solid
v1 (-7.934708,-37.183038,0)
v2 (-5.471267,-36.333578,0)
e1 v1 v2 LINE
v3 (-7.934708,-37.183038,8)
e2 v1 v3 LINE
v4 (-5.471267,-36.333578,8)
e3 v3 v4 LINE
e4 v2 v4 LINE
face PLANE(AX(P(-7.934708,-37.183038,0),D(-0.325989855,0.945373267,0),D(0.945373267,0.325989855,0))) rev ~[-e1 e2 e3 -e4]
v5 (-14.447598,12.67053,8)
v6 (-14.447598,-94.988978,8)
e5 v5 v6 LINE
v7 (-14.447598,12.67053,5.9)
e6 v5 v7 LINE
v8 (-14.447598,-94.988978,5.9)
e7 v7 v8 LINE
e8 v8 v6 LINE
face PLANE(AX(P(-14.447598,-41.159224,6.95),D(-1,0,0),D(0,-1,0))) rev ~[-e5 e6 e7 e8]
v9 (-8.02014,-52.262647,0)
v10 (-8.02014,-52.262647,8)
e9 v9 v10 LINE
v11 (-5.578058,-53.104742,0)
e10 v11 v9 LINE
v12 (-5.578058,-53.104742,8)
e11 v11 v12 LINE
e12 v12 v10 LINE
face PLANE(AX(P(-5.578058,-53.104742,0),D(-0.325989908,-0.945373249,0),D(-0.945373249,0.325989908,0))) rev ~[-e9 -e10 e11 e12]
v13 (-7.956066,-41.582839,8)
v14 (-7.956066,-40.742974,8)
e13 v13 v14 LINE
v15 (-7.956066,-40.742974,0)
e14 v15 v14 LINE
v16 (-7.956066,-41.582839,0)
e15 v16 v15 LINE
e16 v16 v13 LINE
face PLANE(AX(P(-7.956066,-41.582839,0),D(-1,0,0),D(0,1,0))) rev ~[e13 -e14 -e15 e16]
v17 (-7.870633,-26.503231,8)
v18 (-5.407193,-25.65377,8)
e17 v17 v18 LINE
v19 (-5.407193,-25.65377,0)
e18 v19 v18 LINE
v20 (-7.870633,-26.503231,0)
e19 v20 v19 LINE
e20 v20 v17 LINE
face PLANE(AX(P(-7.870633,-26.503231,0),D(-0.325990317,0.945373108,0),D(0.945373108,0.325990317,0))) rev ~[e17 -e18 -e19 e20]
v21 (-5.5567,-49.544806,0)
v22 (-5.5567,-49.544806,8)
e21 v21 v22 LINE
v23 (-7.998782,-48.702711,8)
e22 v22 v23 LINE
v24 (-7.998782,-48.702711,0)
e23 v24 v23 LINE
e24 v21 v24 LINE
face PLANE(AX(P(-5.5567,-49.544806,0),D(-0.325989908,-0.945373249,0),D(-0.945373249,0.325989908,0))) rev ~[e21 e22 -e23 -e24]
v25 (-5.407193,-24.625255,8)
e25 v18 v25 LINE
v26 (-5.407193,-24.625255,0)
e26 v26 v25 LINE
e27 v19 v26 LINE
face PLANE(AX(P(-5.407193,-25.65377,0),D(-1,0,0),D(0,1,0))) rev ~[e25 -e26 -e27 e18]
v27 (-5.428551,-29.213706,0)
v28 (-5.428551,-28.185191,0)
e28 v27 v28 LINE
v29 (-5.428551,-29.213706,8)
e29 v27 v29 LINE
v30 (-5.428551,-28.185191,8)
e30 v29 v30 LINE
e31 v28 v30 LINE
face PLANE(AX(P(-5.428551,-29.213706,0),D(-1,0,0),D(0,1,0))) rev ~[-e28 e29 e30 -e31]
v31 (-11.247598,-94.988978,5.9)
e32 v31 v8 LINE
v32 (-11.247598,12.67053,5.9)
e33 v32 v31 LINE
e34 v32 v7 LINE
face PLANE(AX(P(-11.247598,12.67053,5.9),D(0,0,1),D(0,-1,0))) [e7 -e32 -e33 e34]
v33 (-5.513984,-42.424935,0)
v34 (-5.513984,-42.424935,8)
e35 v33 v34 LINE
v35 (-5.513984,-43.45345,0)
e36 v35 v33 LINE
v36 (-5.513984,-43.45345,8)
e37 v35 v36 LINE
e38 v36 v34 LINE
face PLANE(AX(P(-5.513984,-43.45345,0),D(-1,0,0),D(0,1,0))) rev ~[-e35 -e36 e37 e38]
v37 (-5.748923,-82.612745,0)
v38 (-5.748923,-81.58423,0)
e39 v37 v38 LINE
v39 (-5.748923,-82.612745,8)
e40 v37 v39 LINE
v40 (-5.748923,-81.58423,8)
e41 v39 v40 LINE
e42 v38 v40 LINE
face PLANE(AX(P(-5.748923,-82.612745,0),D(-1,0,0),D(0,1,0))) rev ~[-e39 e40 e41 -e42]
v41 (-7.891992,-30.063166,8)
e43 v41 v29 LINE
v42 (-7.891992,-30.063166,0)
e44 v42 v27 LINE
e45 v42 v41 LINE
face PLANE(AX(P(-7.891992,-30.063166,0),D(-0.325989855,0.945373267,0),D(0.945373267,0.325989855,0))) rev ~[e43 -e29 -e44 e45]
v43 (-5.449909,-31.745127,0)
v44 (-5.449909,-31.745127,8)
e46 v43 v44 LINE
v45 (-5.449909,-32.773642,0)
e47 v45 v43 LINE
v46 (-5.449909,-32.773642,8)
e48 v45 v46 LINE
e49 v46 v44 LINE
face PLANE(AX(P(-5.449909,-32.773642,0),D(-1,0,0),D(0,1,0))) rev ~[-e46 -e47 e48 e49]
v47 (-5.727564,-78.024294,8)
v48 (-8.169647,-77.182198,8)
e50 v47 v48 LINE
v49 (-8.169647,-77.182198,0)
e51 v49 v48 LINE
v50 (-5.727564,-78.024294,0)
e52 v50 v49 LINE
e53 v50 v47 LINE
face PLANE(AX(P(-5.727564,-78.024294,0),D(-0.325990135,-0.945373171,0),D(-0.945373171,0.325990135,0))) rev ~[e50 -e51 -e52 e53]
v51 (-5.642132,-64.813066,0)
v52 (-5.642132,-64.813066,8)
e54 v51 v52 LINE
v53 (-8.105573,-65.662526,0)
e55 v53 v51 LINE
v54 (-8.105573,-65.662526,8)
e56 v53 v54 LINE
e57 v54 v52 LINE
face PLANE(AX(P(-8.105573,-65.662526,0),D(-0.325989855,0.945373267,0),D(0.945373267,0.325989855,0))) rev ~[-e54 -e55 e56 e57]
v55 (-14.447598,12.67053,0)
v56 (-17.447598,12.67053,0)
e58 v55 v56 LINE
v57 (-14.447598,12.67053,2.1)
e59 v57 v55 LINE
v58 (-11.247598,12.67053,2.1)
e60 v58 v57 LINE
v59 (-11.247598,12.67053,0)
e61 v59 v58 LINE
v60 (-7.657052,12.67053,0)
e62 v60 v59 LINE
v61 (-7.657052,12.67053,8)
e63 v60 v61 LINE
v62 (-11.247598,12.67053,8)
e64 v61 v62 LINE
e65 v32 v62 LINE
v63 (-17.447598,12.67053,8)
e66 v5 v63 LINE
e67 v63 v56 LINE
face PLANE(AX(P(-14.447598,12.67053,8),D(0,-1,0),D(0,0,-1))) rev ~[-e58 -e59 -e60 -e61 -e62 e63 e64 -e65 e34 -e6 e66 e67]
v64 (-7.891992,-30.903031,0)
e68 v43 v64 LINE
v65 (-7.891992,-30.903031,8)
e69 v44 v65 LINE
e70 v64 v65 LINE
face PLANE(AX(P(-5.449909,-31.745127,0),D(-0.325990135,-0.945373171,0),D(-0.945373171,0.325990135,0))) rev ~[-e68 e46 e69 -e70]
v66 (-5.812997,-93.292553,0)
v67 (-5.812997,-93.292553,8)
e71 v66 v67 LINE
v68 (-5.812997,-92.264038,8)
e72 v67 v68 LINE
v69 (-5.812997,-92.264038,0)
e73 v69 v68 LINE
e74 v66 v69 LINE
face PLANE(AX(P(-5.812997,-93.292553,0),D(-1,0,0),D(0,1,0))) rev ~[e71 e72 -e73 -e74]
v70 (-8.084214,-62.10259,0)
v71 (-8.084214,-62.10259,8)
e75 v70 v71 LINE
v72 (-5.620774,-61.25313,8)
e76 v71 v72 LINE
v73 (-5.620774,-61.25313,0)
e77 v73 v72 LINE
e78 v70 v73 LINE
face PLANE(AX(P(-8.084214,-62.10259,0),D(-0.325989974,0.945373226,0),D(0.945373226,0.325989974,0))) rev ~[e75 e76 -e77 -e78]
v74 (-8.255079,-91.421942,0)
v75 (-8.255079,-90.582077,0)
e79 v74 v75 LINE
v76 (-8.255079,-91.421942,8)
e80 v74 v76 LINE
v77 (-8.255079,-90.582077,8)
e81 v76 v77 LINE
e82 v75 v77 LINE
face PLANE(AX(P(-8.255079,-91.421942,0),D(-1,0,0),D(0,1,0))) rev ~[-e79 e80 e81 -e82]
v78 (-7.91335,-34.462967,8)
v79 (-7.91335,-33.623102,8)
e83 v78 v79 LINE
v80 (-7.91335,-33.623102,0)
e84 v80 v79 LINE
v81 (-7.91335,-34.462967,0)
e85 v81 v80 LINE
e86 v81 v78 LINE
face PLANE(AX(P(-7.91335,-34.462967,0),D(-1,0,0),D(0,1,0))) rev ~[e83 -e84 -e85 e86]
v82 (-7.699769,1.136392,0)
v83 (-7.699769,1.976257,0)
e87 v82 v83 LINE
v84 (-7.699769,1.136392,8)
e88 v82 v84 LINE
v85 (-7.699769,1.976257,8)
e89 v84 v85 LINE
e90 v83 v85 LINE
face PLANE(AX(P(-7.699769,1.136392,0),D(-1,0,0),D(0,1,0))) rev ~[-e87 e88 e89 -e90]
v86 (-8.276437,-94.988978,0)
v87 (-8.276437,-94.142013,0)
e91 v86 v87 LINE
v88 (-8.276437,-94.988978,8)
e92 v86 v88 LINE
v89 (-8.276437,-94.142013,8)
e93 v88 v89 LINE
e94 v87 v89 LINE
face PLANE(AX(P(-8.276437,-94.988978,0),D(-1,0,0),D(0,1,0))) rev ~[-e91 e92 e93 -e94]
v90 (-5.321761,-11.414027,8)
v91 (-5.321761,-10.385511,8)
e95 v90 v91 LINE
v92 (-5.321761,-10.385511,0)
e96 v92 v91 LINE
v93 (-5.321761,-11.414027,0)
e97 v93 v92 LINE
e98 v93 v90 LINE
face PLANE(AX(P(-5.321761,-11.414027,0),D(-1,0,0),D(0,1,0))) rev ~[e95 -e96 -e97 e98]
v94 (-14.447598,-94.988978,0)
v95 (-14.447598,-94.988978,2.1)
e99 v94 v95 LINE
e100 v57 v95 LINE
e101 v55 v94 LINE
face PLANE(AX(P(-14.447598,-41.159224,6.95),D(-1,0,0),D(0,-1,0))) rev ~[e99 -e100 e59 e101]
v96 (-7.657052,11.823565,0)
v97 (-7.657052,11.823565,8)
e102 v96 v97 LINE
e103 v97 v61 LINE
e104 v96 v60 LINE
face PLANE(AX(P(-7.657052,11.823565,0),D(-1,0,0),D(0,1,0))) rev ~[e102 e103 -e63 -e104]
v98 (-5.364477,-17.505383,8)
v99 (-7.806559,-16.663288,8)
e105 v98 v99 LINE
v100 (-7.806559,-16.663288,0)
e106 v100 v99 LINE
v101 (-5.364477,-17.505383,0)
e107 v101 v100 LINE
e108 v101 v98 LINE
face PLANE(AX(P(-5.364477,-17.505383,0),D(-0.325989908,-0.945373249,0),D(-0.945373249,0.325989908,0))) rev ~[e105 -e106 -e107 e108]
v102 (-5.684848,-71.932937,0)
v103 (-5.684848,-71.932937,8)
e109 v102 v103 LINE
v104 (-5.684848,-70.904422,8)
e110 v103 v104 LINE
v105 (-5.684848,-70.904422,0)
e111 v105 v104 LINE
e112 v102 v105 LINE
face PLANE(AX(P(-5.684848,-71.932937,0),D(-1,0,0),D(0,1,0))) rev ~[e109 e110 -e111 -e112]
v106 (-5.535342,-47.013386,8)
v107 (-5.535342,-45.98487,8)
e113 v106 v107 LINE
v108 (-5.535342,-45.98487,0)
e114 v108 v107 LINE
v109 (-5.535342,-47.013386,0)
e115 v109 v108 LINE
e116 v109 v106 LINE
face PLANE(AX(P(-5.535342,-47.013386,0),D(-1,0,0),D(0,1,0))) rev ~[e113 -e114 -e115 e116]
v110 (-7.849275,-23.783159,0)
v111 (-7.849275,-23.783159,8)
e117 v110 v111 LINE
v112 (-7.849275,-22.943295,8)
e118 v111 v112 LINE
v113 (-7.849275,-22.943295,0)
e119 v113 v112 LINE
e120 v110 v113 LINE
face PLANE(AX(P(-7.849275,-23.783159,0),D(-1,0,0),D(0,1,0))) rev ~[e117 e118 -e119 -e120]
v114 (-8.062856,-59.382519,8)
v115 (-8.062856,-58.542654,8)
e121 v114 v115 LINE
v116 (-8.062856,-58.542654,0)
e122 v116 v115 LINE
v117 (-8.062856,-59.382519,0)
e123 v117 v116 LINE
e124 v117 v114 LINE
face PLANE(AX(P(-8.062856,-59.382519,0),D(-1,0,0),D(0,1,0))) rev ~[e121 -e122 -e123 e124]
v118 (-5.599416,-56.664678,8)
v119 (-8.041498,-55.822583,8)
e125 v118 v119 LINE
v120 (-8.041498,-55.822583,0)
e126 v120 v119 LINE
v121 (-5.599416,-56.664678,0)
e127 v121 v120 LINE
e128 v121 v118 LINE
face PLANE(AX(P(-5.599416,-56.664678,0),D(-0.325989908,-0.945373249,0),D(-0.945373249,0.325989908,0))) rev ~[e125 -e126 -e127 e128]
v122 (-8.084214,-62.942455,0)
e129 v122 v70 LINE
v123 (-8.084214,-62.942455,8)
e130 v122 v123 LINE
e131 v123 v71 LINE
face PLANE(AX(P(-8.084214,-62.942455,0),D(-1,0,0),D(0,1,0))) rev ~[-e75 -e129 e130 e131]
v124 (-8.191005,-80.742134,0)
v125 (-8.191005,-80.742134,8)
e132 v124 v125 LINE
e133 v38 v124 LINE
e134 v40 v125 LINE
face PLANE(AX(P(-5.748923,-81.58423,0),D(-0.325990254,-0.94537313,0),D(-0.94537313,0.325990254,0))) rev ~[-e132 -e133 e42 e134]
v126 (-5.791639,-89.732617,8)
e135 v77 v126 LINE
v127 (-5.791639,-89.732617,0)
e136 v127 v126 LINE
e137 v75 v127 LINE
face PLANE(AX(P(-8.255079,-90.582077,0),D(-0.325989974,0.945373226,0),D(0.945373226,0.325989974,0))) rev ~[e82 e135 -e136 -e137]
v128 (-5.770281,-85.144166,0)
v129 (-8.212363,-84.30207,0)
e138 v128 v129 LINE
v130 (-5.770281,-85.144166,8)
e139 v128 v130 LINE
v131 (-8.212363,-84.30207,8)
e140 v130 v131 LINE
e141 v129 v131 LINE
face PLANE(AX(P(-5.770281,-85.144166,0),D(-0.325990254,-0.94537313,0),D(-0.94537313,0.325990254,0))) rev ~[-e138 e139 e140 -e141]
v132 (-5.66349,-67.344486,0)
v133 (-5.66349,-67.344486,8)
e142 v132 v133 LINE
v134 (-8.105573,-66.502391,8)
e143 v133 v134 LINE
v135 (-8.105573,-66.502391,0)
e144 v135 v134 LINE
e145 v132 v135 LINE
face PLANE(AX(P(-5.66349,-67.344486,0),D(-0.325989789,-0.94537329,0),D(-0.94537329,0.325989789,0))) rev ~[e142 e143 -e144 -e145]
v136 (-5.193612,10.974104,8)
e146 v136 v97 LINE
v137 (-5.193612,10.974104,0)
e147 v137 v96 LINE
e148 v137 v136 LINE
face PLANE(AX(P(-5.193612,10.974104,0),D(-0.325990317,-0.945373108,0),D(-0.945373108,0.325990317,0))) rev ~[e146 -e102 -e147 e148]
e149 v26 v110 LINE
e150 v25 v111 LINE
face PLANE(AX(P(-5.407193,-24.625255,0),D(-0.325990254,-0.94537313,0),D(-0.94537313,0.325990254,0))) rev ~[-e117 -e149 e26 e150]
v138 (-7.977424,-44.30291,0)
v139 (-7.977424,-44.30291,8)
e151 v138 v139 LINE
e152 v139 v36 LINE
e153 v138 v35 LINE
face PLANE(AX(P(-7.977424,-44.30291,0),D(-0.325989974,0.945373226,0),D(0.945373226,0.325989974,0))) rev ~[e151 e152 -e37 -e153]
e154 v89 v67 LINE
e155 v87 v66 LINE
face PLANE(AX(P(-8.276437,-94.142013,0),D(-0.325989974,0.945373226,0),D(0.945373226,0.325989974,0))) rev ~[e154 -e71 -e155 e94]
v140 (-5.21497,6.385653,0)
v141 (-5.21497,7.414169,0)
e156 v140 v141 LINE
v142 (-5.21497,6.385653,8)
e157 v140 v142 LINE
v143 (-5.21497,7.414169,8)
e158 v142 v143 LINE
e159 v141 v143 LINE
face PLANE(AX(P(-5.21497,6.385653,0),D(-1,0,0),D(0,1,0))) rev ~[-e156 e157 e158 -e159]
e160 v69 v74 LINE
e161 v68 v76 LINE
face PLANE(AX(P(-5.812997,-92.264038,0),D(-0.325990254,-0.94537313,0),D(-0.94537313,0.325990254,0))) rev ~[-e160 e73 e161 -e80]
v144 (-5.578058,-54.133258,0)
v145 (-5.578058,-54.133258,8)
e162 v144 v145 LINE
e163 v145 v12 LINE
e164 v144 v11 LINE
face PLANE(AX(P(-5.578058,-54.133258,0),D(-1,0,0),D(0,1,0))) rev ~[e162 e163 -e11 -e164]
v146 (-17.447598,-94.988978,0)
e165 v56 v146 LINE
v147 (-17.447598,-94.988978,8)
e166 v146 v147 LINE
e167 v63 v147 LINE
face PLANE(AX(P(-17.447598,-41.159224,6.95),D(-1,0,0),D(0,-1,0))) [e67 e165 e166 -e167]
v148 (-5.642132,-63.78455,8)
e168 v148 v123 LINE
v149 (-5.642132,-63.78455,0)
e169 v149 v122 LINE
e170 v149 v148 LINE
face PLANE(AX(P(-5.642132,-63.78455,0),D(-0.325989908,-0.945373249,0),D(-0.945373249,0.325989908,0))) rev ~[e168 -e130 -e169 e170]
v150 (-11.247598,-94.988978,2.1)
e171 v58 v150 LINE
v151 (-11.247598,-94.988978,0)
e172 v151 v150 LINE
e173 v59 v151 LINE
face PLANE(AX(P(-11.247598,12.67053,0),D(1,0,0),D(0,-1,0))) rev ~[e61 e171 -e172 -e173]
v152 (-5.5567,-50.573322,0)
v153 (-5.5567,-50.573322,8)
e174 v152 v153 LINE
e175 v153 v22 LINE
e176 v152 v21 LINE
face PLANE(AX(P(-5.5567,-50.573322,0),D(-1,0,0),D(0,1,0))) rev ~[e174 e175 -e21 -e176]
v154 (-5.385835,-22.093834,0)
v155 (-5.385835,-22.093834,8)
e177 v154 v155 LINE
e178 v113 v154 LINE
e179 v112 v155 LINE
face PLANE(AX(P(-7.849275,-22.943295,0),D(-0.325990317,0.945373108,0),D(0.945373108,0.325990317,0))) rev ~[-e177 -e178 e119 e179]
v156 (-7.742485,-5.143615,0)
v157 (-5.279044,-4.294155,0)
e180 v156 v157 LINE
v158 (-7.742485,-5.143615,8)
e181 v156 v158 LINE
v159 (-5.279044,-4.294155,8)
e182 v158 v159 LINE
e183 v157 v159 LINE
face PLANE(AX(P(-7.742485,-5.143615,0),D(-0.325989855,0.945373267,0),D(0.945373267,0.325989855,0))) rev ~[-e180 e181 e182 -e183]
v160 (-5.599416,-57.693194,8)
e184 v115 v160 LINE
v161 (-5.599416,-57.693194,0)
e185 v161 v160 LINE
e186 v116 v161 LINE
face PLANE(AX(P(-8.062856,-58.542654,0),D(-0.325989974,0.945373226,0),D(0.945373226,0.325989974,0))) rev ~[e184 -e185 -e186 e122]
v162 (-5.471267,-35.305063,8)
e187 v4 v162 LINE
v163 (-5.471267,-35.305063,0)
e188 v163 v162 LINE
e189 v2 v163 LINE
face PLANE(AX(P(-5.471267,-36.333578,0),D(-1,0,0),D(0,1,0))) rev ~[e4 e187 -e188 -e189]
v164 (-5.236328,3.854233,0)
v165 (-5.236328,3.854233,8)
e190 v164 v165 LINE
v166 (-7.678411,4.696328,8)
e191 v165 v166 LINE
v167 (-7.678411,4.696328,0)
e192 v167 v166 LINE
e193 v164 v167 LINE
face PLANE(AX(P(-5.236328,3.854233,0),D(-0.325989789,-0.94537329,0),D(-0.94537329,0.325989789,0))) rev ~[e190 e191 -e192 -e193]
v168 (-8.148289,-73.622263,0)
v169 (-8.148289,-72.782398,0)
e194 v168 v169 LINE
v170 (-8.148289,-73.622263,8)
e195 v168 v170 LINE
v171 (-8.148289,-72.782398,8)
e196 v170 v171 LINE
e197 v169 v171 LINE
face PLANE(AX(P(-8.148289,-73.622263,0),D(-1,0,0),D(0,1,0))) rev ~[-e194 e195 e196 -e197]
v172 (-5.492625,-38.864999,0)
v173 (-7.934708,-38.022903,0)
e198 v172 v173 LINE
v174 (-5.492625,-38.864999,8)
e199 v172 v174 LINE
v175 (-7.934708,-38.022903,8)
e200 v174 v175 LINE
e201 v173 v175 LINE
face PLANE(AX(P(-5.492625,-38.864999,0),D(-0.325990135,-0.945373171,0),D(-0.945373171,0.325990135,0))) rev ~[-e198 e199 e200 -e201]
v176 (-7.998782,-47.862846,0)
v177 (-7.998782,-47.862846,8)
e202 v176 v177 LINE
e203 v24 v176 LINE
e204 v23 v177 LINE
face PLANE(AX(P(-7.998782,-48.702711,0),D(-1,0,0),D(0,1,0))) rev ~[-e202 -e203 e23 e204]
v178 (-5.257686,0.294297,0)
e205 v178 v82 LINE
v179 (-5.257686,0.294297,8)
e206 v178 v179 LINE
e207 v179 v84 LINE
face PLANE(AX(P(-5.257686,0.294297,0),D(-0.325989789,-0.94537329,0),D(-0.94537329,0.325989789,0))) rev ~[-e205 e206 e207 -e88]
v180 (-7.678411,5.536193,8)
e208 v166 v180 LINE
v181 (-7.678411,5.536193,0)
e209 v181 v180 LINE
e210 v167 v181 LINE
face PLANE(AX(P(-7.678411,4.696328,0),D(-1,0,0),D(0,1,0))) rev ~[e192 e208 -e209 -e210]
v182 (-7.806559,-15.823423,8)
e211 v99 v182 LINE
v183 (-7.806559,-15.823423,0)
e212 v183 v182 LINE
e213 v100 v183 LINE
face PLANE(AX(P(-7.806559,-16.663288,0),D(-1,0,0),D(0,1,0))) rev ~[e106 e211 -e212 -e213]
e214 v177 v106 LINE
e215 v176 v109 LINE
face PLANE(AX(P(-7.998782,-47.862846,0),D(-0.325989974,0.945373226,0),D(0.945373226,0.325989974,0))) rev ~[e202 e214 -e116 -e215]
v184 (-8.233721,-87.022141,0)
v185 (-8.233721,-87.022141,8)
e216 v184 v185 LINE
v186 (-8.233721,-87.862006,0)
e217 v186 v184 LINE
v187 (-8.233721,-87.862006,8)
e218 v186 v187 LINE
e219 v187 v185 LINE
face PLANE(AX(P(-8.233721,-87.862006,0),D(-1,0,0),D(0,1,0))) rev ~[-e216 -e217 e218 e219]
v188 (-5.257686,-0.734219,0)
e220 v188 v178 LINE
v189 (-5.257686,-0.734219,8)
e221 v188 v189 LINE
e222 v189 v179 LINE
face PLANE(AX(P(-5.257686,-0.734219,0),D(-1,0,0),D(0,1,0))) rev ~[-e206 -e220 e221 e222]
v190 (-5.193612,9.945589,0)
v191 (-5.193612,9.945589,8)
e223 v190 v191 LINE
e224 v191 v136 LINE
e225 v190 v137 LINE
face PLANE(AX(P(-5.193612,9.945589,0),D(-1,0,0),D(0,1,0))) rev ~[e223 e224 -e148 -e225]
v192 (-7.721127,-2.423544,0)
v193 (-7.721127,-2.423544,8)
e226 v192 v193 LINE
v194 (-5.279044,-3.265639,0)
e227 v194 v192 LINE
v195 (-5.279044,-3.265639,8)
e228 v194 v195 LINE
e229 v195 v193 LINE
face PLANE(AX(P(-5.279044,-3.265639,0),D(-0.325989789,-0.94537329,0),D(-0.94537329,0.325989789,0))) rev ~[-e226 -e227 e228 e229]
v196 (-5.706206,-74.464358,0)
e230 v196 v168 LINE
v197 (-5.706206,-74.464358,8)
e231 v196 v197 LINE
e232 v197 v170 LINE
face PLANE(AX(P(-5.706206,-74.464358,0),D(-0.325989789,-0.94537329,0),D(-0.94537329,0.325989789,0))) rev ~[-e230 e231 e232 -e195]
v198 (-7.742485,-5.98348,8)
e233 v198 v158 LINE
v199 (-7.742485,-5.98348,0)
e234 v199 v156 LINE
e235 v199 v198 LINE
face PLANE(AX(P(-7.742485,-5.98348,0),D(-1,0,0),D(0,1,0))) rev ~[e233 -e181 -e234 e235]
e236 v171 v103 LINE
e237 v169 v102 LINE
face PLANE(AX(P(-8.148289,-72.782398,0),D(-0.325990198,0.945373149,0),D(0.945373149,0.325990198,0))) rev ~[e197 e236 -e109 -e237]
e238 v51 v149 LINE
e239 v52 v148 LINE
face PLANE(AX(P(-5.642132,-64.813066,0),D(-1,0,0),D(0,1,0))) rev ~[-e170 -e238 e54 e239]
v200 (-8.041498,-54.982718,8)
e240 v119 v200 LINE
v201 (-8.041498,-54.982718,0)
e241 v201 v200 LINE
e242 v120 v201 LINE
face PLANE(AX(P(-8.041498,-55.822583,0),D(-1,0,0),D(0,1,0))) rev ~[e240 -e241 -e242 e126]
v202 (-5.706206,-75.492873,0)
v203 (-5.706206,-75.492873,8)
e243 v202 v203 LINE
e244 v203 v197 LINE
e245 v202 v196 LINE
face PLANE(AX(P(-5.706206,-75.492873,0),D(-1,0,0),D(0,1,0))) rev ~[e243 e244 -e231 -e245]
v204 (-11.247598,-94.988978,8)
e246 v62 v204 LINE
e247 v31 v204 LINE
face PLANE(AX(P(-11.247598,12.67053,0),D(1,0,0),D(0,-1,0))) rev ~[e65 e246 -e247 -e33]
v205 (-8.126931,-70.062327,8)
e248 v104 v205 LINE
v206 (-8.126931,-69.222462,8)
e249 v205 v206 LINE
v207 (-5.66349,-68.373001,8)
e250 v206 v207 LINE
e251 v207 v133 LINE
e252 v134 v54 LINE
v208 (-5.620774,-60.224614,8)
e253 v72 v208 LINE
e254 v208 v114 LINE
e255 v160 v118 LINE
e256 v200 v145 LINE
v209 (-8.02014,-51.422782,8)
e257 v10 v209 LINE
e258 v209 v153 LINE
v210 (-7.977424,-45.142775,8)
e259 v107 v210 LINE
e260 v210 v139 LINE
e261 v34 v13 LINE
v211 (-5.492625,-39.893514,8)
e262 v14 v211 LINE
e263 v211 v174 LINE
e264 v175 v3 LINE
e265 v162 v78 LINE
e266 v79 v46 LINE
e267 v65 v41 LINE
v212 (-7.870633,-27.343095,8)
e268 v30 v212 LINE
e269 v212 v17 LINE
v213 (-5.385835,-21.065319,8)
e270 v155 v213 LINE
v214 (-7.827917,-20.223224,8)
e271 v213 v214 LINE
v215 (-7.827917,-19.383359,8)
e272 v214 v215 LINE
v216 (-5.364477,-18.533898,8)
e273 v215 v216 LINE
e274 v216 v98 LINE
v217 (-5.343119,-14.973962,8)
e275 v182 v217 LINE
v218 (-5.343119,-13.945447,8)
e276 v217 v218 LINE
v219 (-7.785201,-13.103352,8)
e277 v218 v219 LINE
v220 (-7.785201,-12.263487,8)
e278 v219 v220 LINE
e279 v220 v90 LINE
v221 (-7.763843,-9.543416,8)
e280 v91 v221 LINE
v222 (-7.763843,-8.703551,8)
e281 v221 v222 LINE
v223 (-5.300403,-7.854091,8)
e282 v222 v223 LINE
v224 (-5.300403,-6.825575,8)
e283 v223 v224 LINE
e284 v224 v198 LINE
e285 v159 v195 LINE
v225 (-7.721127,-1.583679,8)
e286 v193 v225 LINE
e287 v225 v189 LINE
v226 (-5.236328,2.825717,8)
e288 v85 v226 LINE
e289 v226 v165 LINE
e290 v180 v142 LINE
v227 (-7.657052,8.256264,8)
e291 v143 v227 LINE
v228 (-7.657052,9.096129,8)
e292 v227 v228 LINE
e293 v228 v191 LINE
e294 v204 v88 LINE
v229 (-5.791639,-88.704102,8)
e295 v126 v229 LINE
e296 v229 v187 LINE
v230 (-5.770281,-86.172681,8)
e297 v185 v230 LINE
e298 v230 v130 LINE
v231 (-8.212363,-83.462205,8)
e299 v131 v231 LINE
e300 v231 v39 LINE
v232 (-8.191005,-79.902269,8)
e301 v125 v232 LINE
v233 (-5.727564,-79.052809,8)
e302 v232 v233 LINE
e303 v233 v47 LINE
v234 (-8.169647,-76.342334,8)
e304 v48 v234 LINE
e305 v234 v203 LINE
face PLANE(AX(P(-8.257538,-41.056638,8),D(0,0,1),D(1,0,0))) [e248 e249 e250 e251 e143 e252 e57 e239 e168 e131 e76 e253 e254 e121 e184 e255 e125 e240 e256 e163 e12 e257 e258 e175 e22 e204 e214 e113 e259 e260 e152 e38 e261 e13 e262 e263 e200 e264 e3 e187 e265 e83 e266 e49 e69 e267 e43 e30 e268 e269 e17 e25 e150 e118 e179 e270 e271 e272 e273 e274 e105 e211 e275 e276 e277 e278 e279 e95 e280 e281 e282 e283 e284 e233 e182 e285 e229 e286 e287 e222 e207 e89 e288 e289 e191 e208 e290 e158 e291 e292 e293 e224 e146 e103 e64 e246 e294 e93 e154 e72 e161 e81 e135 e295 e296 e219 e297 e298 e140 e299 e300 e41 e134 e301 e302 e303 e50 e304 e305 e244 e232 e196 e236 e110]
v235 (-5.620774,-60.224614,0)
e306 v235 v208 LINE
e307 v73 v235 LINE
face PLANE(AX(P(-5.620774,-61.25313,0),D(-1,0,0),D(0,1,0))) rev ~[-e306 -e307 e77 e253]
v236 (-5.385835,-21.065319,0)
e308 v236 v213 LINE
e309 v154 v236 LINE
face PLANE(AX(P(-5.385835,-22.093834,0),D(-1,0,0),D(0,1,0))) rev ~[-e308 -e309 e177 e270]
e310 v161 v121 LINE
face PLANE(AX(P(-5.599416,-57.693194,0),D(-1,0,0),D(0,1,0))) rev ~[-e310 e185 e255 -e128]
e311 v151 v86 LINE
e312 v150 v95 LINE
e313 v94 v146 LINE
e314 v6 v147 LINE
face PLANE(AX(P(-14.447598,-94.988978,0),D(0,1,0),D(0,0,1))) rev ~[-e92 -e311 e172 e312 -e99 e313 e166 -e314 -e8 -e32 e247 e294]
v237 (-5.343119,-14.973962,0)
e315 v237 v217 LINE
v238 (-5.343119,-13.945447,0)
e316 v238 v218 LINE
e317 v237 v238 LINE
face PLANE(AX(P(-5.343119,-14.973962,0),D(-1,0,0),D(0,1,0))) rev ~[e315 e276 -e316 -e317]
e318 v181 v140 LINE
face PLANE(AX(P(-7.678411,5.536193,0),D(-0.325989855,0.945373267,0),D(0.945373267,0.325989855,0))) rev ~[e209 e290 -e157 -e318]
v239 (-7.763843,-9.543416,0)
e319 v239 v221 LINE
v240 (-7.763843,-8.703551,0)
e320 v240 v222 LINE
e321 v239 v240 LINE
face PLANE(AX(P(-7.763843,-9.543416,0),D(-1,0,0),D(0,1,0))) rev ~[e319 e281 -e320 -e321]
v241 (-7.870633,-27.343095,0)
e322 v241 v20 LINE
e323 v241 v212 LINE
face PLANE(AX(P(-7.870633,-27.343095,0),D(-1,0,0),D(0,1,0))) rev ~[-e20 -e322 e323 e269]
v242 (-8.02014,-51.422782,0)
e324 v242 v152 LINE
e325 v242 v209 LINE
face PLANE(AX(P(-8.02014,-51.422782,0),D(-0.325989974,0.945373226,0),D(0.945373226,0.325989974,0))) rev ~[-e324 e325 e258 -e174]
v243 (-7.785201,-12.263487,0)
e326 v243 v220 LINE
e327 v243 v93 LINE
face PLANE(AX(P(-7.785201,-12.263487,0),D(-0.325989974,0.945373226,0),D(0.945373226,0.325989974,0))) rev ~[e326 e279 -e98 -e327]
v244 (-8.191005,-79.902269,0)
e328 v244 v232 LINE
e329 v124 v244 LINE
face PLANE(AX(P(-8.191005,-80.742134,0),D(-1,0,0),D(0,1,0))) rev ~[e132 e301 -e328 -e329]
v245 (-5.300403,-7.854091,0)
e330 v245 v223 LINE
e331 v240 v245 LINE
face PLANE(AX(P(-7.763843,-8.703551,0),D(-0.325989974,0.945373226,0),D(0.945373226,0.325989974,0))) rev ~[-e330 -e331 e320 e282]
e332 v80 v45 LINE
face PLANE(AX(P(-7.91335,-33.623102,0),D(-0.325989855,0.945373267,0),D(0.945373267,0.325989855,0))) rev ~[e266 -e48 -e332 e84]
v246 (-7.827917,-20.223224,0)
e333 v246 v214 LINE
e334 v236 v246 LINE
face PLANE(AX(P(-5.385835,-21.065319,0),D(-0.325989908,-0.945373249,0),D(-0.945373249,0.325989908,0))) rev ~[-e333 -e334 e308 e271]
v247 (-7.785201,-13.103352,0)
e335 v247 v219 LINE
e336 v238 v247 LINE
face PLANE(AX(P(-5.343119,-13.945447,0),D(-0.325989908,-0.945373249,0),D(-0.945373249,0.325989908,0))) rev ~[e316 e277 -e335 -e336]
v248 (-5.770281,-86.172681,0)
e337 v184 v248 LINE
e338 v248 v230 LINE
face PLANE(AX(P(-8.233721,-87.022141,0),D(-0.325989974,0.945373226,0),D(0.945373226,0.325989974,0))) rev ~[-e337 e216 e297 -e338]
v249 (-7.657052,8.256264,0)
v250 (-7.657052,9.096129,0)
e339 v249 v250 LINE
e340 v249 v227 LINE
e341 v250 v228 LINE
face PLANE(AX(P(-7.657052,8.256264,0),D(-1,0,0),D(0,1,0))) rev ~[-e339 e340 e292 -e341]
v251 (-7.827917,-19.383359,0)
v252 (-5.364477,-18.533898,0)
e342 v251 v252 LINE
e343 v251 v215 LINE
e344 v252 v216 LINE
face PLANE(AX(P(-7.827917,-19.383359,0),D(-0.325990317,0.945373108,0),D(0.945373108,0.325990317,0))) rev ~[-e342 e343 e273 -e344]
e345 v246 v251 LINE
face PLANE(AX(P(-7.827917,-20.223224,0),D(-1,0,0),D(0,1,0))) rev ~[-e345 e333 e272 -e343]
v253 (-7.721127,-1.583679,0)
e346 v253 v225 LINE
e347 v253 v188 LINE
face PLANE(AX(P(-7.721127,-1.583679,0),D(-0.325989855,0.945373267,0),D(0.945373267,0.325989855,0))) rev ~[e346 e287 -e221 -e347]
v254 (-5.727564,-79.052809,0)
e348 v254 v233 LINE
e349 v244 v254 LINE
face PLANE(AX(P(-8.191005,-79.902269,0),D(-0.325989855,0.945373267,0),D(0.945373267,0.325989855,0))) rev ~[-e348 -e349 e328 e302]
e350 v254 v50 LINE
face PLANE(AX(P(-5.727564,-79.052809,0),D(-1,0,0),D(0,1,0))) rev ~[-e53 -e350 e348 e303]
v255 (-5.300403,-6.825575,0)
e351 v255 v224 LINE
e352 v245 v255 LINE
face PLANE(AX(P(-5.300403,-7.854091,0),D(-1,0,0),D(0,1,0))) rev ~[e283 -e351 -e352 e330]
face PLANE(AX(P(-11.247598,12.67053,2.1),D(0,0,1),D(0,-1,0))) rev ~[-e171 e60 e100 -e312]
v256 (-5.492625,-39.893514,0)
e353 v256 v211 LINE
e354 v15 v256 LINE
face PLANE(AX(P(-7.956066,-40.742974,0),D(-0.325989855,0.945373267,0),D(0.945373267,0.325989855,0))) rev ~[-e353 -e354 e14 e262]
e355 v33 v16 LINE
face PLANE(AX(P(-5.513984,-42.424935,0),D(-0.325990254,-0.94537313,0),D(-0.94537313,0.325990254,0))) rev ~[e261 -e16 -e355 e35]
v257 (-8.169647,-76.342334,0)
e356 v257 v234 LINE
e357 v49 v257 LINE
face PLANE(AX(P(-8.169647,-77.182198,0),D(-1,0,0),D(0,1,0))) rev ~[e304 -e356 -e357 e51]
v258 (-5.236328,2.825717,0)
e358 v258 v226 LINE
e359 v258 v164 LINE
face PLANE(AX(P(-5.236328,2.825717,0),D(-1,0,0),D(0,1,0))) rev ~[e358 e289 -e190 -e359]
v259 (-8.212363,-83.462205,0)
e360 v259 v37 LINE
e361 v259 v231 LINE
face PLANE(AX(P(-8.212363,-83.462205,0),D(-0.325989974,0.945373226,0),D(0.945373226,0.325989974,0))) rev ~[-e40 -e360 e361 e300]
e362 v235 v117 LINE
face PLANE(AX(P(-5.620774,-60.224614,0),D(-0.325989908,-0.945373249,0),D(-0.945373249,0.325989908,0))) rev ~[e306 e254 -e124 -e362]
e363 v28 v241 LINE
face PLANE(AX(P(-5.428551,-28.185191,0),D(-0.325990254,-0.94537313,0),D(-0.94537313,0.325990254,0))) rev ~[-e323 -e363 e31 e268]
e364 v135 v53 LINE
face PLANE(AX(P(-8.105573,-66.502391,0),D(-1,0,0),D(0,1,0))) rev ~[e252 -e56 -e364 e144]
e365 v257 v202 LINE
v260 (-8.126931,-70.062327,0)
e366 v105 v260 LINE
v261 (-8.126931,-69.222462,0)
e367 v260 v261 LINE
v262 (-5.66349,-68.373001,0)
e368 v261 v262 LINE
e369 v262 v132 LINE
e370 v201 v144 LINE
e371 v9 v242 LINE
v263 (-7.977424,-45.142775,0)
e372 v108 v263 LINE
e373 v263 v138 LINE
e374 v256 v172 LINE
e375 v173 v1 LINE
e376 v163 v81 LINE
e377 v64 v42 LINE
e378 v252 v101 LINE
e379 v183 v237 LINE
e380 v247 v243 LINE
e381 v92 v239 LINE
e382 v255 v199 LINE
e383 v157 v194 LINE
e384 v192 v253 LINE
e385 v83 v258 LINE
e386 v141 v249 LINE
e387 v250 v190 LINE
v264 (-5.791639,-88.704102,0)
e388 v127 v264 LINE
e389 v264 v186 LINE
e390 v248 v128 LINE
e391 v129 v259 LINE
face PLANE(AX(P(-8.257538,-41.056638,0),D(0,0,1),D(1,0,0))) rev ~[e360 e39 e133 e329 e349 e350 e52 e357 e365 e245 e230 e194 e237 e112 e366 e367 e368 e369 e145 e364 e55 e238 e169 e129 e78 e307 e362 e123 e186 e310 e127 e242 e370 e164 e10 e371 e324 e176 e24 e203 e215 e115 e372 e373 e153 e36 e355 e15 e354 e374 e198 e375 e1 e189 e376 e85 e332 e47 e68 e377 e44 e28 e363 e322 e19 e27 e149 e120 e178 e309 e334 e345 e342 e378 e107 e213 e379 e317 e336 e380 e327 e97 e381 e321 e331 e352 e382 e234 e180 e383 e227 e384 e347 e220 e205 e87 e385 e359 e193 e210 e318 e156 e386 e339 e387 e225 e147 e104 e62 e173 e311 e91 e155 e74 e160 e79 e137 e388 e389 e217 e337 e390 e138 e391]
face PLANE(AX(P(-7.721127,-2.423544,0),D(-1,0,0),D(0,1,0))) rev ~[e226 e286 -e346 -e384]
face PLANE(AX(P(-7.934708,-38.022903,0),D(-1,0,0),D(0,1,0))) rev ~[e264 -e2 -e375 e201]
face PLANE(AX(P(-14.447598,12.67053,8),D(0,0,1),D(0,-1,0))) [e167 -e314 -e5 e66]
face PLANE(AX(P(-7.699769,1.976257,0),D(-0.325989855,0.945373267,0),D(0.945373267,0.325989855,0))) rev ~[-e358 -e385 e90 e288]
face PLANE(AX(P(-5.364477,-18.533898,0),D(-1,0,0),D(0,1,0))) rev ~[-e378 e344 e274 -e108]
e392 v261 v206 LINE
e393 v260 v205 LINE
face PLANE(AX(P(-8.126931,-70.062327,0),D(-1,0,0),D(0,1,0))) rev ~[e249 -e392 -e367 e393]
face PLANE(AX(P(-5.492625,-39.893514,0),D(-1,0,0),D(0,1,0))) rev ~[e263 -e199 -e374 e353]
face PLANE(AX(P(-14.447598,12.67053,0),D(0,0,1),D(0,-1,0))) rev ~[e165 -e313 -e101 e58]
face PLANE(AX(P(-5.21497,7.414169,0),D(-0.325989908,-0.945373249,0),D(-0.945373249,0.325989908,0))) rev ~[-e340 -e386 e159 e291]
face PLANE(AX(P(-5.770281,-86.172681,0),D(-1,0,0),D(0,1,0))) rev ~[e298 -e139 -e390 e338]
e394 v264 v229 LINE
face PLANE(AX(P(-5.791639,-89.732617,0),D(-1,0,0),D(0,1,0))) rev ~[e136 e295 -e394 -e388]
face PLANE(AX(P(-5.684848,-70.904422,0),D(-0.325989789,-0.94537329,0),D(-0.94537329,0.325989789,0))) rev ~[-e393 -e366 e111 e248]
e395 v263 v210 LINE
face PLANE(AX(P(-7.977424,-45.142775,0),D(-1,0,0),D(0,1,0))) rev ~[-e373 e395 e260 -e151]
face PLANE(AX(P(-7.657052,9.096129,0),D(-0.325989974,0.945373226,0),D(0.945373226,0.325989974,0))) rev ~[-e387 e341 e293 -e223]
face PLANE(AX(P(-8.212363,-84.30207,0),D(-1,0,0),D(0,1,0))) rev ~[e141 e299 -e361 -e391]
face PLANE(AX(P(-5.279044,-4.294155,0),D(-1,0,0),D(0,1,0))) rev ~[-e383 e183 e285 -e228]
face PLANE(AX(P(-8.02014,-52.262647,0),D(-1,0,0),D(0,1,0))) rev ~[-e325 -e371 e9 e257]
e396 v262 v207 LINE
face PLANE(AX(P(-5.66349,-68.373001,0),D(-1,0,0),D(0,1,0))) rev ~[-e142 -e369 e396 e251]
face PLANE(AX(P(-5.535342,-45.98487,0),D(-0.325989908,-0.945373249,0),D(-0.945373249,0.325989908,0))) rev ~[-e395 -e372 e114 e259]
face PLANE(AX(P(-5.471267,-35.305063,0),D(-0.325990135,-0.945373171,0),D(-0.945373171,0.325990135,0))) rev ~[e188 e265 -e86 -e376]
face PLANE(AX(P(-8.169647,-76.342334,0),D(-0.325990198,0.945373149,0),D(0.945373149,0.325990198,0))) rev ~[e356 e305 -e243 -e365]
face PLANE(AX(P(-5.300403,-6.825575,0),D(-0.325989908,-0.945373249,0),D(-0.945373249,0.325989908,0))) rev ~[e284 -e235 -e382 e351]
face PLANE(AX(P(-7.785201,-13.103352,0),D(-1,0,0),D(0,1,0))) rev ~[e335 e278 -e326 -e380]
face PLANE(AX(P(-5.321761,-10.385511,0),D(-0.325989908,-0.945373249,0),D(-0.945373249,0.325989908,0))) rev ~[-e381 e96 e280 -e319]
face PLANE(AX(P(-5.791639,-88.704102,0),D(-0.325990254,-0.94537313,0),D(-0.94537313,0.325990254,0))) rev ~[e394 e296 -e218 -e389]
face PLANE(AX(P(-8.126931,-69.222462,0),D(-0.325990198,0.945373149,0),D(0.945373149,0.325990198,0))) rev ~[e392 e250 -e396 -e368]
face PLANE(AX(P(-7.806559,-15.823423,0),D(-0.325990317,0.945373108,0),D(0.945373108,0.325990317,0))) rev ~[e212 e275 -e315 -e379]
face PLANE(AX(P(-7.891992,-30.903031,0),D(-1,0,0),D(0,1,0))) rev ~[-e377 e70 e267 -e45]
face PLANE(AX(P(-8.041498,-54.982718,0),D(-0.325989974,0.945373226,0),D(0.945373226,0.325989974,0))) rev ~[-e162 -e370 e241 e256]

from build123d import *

# Parameters (mm, degrees)
F1_DEPTH = 8
F2_W     = 107.659508
F2_H     = 3.8
F3_DEPTH = 3.2
F4_W     = 107.659508
F4_H     = 2.1
F4_H_2   = 3.8
F5_DEPTH = 3


with BuildPart() as f1:
    # F0 (on Top) → F1 (new body)
    with BuildSketch(Plane.XY):
        Polygon((-7.657052, 11.823565), (-7.657052, 12.67053), (-11.247598, 12.67053), (-11.247598, -94.988978), (-8.276437, -94.988978), (-8.276437, -94.142013), (-5.812997, -93.292553), (-5.812997, -92.264038), (-8.255079, -91.421942), (-8.255079, -90.582077), (-5.791639, -89.732617), (-5.791639, -88.704102), (-8.233721, -87.862006), (-8.233721, -87.022141), (-5.770281, -86.172681), (-5.770281, -85.144166), (-8.212363, -84.30207), (-8.212363, -83.462205), (-5.748923, -82.612745), (-5.748923, -81.58423), (-8.191005, -80.742134), (-8.191005, -79.902269), (-5.727564, -79.052809), (-5.727564, -78.024294), (-8.169647, -77.182198), (-8.169647, -76.342334), (-5.706206, -75.492873), (-5.706206, -74.464358), (-8.148289, -73.622263), (-8.148289, -72.782398), (-5.684848, -71.932937), (-5.684848, -70.904422), (-8.126931, -70.062327), (-8.126931, -69.222462), (-5.66349, -68.373001), (-5.66349, -67.344486), (-8.105573, -66.502391), (-8.105573, -65.662526), (-5.642132, -64.813066), (-5.642132, -63.78455), (-8.084214, -62.942455), (-8.084214, -62.10259), (-5.620774, -61.25313), (-5.620774, -60.224614), (-8.062856, -59.382519), (-8.062856, -58.542654), (-5.599416, -57.693194), (-5.599416, -56.664678), (-8.041498, -55.822583), (-8.041498, -54.982718), (-5.578058, -54.133258), (-5.578058, -53.104742), (-8.02014, -52.262647), (-8.02014, -51.422782), (-5.5567, -50.573322), (-5.5567, -49.544806), (-7.998782, -48.702711), (-7.998782, -47.862846), (-5.535342, -47.013386), (-5.535342, -45.98487), (-7.977424, -45.142775), (-7.977424, -44.30291), (-5.513984, -43.45345), (-5.513984, -42.424935), (-7.956066, -41.582839), (-7.956066, -40.742974), (-5.492625, -39.893514), (-5.492625, -38.864999), (-7.934708, -38.022903), (-7.934708, -37.183038), (-5.471267, -36.333578), (-5.471267, -35.305063), (-7.91335, -34.462967), (-7.91335, -33.623102), (-5.449909, -32.773642), (-5.449909, -31.745127), (-7.891992, -30.903031), (-7.891992, -30.063166), (-5.428551, -29.213706), (-5.428551, -28.185191), (-7.870633, -27.343095), (-7.870633, -26.503231), (-5.407193, -25.65377), (-5.407193, -24.625255), (-7.849275, -23.783159), (-7.849275, -22.943295), (-5.385835, -22.093834), (-5.385835, -21.065319), (-7.827917, -20.223224), (-7.827917, -19.383359), (-5.364477, -18.533898), (-5.364477, -17.505383), (-7.806559, -16.663288), (-7.806559, -15.823423), (-5.343119, -14.973962), (-5.343119, -13.945447), (-7.785201, -13.103352), (-7.785201, -12.263487), (-5.321761, -11.414027), (-5.321761, -10.385511), (-7.763843, -9.543416), (-7.763843, -8.703551), (-5.300403, -7.854091), (-5.300403, -6.825575), (-7.742485, -5.98348), (-7.742485, -5.143615), (-5.279044, -4.294155), (-5.279044, -3.265639), (-7.721127, -2.423544), (-7.721127, -1.583679), (-5.257686, -0.734219), (-5.257686, 0.294297), (-7.699769, 1.136392), (-7.699769, 1.976257), (-5.236328, 2.825717), (-5.236328, 3.854233), (-7.678411, 4.696328), (-7.678411, 5.536193), (-5.21497, 6.385653), (-5.21497, 7.414169), (-7.657052, 8.256264), (-7.657052, 9.096129), (-5.193612, 9.945589), (-5.193612, 10.974104), align=None)
    extrude(amount=F1_DEPTH)

    # F2 (on face) → F3 (join)
    with BuildSketch(Plane(origin=(-11.247598, 0, 0), x_dir=(0, -1, 0), z_dir=(-1, 0, 0))):
        with Locations((41.159224, 4)):
            Rectangle(F2_W, F2_H)
    extrude(amount=F3_DEPTH)

    # F4 (on face) → F5 (join)
    with BuildSketch(Plane(origin=(-14.447598, 0, 0), x_dir=(0, -1, 0), z_dir=(-1, 0, 0))):
        with Locations((41.159224, 6.95)):
            Rectangle(F4_W, F4_H)
        with Locations((41.159224, 4)):
            Rectangle(F4_W, F4_H_2)
        with Locations((41.159224, 1.05)):
            Rectangle(F4_W, F4_H)
    extrude(amount=F5_DEPTH)


solid = f1.part
